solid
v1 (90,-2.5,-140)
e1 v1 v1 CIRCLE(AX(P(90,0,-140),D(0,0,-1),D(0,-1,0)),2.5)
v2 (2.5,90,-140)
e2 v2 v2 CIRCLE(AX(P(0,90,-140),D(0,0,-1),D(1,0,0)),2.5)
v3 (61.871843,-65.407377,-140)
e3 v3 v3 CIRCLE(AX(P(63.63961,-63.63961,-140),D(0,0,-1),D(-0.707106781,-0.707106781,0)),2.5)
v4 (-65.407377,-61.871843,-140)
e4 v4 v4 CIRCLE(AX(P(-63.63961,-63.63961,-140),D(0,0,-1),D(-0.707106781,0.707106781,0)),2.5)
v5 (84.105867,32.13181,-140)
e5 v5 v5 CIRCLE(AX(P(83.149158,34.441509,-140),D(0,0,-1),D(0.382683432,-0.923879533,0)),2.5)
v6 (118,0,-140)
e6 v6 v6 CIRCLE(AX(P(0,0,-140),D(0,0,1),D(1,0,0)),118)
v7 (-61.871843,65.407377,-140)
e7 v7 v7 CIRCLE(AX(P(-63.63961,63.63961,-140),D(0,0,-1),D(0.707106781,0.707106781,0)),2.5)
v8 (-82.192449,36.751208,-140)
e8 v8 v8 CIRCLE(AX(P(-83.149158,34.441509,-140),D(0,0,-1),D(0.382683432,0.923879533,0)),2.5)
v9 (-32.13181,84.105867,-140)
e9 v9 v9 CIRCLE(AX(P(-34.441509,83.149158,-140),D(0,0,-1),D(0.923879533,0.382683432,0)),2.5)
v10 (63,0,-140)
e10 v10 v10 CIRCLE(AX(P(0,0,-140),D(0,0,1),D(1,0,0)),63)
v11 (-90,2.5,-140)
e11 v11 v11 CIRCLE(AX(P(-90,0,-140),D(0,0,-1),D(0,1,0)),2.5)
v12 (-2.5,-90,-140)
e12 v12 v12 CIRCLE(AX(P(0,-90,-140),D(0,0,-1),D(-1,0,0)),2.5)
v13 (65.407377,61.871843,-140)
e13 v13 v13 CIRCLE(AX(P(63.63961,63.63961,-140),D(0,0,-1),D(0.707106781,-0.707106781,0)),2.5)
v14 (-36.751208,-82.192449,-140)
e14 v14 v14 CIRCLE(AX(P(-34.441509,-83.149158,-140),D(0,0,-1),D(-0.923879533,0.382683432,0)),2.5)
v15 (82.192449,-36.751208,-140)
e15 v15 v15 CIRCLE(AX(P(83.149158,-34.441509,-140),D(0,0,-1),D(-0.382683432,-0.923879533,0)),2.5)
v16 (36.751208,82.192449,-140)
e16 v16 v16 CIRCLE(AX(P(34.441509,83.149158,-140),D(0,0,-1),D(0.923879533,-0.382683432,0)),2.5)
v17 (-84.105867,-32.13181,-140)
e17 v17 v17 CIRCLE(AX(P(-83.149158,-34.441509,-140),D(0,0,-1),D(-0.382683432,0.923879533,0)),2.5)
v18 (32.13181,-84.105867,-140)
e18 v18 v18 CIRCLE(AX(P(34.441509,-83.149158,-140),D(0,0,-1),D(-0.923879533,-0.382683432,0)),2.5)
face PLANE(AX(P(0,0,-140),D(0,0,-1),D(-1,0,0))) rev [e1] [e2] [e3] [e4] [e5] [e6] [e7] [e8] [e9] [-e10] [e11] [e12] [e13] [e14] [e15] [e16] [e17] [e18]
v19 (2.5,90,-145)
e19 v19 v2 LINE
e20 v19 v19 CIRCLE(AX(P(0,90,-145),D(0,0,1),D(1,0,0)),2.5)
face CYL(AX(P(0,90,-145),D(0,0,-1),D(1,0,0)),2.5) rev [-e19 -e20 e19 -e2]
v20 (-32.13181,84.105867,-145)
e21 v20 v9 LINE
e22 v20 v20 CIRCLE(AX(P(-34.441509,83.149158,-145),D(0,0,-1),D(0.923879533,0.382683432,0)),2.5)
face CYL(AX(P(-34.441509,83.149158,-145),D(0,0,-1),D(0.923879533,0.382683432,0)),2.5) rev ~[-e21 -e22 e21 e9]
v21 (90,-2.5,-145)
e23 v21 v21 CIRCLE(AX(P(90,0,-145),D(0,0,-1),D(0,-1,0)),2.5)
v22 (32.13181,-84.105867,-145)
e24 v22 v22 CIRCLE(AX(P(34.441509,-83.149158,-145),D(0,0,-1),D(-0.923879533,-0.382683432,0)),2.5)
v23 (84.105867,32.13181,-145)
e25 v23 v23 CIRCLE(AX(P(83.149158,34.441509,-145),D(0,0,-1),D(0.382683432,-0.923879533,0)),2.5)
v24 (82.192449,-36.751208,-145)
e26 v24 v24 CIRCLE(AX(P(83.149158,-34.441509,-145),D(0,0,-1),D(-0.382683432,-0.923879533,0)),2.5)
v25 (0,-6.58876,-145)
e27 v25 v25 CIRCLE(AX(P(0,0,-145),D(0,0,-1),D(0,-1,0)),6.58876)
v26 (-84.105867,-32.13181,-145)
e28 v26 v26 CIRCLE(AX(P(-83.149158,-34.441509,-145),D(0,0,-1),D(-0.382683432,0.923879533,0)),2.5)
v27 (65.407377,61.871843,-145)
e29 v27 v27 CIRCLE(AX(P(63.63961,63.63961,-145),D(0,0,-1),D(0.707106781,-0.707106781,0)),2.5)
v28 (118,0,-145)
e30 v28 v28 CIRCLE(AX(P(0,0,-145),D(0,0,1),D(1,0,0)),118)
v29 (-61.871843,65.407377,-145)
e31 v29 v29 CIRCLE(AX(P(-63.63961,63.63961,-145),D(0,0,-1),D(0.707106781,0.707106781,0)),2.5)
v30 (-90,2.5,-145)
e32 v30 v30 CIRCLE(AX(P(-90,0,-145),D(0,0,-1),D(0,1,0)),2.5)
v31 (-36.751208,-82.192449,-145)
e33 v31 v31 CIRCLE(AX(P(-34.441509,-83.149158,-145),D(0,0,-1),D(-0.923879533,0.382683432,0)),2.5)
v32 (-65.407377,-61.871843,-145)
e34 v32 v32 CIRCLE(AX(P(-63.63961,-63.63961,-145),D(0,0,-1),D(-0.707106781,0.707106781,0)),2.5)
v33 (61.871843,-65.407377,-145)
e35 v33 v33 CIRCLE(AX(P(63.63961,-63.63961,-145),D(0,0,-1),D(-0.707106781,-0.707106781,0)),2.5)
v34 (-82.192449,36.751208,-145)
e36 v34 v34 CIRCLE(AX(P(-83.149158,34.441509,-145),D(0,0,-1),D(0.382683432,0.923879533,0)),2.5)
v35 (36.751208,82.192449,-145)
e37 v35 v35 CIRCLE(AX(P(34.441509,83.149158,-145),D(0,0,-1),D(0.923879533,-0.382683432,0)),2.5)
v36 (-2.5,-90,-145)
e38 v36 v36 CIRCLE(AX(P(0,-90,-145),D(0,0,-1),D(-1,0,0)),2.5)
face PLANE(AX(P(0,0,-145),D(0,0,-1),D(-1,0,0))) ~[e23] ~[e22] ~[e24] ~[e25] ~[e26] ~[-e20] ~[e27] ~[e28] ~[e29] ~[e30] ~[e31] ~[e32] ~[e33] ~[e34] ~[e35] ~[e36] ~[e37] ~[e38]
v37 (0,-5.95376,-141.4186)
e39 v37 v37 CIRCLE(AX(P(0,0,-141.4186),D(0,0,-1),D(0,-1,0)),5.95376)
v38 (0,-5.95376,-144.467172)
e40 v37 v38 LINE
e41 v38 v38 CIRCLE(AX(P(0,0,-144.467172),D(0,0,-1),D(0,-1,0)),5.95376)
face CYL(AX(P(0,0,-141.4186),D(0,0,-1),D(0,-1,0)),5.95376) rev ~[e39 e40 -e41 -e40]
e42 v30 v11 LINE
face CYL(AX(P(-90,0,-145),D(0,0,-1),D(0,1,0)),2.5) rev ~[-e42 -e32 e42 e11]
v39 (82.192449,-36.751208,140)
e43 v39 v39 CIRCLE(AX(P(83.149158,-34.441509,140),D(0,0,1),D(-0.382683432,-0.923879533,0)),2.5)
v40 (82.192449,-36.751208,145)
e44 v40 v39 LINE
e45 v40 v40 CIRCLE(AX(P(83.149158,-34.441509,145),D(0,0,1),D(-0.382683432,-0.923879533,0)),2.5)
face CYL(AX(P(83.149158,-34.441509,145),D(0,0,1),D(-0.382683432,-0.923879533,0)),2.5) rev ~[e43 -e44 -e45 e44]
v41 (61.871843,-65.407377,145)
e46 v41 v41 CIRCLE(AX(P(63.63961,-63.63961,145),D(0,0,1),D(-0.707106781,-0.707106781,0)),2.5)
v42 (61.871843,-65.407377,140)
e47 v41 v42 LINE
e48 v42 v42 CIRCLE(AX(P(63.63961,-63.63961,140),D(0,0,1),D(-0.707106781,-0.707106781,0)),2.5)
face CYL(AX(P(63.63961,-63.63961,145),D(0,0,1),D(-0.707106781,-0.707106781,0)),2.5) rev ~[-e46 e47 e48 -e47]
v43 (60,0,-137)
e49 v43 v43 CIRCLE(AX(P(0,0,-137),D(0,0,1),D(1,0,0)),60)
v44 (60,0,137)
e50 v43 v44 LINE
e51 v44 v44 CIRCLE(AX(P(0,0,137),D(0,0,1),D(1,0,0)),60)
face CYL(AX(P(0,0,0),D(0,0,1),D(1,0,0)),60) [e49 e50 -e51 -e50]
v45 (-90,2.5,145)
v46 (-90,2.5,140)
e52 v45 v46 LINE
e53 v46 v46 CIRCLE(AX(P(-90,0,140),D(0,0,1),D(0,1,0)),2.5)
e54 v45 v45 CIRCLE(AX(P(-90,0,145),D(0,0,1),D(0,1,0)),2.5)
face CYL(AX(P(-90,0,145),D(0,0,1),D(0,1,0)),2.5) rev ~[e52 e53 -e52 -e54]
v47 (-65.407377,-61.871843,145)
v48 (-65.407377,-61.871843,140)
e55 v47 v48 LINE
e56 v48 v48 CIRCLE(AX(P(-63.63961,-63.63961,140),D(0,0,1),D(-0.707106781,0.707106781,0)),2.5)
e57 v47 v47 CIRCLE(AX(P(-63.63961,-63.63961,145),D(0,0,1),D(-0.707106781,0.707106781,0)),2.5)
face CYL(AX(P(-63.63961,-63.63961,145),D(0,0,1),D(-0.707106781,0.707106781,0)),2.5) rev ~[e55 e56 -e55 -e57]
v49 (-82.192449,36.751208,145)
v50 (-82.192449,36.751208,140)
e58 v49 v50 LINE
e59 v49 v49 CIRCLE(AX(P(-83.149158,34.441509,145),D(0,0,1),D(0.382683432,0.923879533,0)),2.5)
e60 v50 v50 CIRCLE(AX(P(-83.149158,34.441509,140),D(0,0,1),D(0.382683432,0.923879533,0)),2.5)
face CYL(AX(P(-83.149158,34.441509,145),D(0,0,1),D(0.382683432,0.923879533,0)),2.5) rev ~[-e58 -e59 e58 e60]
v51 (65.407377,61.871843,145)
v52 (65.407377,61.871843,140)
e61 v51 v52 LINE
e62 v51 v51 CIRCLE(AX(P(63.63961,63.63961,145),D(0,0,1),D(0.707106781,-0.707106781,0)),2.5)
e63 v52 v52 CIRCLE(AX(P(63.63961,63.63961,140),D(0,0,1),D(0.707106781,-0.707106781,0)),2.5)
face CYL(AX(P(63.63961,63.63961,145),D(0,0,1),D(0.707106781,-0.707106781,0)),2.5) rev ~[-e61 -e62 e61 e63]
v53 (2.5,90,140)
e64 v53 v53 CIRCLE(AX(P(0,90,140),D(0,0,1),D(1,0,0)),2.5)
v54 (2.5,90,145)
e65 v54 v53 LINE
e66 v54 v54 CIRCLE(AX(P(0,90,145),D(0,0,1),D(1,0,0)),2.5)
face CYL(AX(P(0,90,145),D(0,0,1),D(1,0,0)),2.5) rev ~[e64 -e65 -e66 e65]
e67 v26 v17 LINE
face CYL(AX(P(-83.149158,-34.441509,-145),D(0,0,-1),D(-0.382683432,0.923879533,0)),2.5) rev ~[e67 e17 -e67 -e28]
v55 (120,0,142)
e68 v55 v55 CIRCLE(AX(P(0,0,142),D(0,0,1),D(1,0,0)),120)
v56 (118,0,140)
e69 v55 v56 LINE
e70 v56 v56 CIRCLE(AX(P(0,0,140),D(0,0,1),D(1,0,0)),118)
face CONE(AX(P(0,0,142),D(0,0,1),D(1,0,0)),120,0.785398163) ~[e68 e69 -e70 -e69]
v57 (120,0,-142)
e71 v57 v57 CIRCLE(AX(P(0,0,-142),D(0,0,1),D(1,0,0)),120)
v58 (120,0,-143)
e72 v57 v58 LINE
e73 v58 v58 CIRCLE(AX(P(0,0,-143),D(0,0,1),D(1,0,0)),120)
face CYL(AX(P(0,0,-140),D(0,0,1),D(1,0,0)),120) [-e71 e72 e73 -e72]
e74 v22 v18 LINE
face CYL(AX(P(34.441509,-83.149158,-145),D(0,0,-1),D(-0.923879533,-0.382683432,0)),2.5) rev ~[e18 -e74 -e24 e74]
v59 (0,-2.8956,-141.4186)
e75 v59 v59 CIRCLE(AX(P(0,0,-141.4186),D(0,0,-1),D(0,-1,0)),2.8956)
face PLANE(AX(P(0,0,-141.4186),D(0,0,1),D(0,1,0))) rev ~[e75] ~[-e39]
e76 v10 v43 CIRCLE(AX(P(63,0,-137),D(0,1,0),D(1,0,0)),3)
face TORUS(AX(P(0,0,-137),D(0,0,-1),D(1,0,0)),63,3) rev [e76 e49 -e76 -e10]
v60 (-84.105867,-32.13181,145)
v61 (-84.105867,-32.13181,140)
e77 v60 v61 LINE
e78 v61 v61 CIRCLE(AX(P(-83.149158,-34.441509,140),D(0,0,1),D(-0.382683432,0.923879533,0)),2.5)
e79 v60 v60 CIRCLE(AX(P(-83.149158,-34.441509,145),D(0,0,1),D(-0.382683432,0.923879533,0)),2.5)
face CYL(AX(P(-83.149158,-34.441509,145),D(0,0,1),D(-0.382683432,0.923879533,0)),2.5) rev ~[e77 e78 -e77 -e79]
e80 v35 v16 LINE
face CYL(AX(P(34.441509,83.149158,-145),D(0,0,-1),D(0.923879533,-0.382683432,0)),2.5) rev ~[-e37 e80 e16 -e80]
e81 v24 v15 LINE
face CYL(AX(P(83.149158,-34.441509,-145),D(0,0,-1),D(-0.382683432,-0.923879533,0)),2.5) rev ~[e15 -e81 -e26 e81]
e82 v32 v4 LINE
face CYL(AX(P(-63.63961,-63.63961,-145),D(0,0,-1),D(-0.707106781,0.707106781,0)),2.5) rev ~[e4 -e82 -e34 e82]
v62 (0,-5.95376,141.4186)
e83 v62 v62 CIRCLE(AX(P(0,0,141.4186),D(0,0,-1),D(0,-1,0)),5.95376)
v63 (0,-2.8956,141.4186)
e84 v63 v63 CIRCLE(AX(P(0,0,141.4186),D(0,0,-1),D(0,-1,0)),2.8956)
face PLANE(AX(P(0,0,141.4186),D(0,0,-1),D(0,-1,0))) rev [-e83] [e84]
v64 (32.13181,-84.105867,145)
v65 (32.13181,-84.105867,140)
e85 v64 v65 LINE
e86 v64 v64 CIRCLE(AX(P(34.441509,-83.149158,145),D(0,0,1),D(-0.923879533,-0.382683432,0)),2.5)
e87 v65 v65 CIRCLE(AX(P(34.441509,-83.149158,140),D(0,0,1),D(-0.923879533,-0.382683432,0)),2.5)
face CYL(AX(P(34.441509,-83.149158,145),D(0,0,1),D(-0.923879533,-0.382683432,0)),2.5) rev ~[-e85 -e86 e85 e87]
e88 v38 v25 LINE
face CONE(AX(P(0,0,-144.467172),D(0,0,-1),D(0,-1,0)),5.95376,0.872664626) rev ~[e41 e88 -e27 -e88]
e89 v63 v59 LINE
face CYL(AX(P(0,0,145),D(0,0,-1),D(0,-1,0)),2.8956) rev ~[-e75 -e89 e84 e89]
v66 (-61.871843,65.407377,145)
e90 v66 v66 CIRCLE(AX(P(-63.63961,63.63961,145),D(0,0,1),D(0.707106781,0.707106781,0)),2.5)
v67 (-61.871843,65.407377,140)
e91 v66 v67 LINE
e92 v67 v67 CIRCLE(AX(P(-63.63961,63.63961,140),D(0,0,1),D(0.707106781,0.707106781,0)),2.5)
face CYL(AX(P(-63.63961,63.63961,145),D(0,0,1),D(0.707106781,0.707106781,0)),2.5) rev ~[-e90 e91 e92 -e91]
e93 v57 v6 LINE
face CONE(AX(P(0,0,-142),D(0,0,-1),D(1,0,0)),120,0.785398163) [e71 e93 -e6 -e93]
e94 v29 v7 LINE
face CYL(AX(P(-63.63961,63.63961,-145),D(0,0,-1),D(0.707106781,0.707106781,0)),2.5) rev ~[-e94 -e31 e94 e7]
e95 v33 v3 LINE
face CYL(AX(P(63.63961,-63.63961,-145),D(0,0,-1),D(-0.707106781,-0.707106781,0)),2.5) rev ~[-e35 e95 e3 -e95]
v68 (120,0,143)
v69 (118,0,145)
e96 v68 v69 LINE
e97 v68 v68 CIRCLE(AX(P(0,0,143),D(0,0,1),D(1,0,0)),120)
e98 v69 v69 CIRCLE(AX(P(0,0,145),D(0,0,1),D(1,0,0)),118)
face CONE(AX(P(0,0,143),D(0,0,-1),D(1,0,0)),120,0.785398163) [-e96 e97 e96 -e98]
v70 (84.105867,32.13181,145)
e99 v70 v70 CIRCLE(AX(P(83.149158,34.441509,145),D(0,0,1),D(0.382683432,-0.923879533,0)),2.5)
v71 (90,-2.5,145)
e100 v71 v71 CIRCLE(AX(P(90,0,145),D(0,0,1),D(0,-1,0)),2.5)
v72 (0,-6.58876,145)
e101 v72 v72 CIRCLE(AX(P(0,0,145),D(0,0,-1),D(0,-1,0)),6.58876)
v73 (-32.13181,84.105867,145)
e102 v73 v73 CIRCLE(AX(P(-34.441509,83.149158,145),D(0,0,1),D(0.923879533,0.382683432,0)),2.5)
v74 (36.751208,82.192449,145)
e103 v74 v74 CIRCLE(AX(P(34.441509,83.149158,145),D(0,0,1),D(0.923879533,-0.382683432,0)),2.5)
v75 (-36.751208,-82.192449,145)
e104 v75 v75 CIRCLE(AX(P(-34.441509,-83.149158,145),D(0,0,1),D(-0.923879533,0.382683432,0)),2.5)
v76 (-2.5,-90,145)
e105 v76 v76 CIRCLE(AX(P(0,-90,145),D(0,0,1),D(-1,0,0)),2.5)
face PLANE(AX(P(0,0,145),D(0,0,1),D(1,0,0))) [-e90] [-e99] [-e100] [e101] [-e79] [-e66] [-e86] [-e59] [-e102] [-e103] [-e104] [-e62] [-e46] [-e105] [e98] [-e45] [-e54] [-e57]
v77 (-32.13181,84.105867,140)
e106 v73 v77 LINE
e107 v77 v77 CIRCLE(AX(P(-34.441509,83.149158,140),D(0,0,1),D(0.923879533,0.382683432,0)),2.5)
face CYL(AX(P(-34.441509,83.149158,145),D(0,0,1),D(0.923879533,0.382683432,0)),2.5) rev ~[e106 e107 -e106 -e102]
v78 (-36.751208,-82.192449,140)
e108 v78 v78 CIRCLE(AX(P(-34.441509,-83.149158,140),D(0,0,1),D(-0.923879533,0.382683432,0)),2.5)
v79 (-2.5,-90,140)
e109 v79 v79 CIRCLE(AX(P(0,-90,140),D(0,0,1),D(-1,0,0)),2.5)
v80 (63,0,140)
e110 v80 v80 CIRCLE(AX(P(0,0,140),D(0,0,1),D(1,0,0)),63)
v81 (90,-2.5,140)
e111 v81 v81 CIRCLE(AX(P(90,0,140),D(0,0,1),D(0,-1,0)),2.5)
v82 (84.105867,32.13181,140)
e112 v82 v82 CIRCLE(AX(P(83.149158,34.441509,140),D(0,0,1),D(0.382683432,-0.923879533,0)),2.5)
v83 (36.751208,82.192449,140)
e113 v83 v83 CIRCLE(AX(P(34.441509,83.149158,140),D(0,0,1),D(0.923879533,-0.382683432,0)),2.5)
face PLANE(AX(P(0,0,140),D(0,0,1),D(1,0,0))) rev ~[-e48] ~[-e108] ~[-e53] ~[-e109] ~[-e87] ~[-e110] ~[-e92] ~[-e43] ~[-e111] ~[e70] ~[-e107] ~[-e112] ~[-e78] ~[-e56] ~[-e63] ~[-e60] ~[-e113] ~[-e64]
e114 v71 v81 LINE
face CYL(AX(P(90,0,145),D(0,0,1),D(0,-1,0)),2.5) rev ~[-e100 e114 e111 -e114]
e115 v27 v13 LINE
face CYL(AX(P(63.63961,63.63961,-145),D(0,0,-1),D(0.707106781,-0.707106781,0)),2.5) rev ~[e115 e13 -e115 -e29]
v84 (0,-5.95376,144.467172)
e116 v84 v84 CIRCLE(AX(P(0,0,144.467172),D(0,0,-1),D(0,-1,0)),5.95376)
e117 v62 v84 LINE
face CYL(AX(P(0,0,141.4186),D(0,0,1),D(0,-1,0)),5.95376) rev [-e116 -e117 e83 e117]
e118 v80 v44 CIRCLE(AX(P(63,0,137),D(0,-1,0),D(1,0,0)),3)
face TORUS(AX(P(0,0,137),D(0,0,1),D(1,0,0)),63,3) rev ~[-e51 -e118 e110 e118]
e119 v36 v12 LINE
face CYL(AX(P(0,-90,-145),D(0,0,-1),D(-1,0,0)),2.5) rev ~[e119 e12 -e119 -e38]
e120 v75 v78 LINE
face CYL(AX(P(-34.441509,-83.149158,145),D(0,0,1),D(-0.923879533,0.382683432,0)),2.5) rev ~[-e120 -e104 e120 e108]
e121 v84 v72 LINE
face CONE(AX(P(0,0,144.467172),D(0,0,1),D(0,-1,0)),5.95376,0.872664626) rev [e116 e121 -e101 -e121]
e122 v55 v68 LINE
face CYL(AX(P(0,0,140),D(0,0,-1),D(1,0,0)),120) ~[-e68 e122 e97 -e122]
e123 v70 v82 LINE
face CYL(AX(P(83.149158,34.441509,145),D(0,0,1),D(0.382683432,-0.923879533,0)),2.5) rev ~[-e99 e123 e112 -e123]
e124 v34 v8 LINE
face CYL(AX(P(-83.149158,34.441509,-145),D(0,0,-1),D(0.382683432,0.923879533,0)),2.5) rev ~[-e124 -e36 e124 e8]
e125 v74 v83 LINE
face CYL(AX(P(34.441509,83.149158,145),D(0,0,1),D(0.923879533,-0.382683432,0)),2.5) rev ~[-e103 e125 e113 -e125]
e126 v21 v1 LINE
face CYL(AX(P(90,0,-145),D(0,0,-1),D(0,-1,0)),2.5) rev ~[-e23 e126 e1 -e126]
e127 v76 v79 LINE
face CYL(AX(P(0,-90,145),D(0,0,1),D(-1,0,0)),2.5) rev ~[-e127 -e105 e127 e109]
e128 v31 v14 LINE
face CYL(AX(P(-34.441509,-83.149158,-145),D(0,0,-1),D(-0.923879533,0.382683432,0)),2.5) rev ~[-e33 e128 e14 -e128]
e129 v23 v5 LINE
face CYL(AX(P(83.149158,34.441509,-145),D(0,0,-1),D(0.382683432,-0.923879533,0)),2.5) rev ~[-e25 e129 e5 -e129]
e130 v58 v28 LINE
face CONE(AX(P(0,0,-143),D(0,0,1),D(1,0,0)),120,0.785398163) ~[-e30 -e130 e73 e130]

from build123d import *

# Parameters (mm, degrees)
SKETCH1_R                = 60
BOSS_EXTRUDE1_DEPTH      = 140
SKETCH2_R                = 120
BOSS_EXTRUDE2_DEPTH      = 5
CHAMFER1_SIZE            = 2
SKETCH3_R                = 2.5
CUT_EXTRUDE1_DEPTH       = 332.700165812
CIRPATTERN1_COUNT        = 16
FILLET1_R                = 3
MIRROR1_COPY_1_SKETCH_R  = 2.5
MIRROR1_COPY_1_DEPTH     = 332.700165812
MIRROR1_COPY_2_SKETCH_R  = 2.5
MIRROR1_COPY_2_DEPTH     = 332.700165812
MIRROR1_COPY_3_SKETCH_R  = 2.5
MIRROR1_COPY_3_DEPTH     = 332.700165812
MIRROR1_COPY_4_SKETCH_R  = 2.5
MIRROR1_COPY_4_DEPTH     = 332.700165812
MIRROR1_COPY_5_SKETCH_R  = 2.5
MIRROR1_COPY_5_DEPTH     = 332.700165812
MIRROR1_COPY_6_SKETCH_R  = 2.5
MIRROR1_COPY_6_DEPTH     = 332.700165812
MIRROR1_COPY_7_SKETCH_R  = 2.5
MIRROR1_COPY_7_DEPTH     = 332.700165812
MIRROR1_COPY_8_SKETCH_R  = 2.5
MIRROR1_COPY_8_DEPTH     = 332.700165812
MIRROR1_COPY_9_SKETCH_R  = 2.5
MIRROR1_COPY_9_DEPTH     = 332.700165812
MIRROR1_COPY_10_SKETCH_R = 2.5
MIRROR1_COPY_10_DEPTH    = 332.700165812
MIRROR1_COPY_11_SKETCH_R = 2.5
MIRROR1_COPY_11_DEPTH    = 332.700165812
MIRROR1_COPY_12_SKETCH_R = 2.5
MIRROR1_COPY_12_DEPTH    = 332.700165812
MIRROR1_COPY_13_SKETCH_R = 2.5
MIRROR1_COPY_13_DEPTH    = 332.700165812
MIRROR1_COPY_14_SKETCH_R = 2.5
MIRROR1_COPY_14_DEPTH    = 332.700165812
MIRROR1_COPY_15_SKETCH_R = 2.5
MIRROR1_COPY_15_DEPTH    = 332.700165812
CHAMFER1_OF_MIRROR1_SIZE = 2
FILLET1_OF_MIRROR1_R     = 3


with BuildPart() as part:
    # Sketch1 → Boss-Extrude1 (new, symmetric)
    with BuildSketch(Plane.XY):
        Circle(SKETCH1_R)
    extrude(amount=BOSS_EXTRUDE1_DEPTH, both=True)

    # Sketch2 → Boss-Extrude2 (add)
    with BuildSketch(Plane.XY.offset(140)):
        Circle(SKETCH2_R)
    boss_extrude2 = extrude(amount=BOSS_EXTRUDE2_DEPTH)

    # Chamfer1
    chamfer1_edges = [part.edges().sort_by_distance(p)[0] for p in [
        (-120, 0, 140),
        (-120, 0, 145),
    ]]
    chamfer(chamfer1_edges, length=CHAMFER1_SIZE)

    # Sketch3 → Cut-Extrude1 (cut, through all)
    with BuildSketch(Plane.XY.offset(145)):
        with Locations((0, 90)):
            Circle(SKETCH3_R)
    cut_extrude1 = extrude(amount=-CUT_EXTRUDE1_DEPTH, mode=Mode.SUBTRACT)

    # CirPattern1: Cut-Extrude1 ×16 about axis
    cirpattern1_axis = Axis((0, 0, 140), (0, 0, 1))
    for i in range(1, CIRPATTERN1_COUNT):
        add(cut_extrude1.rotate(cirpattern1_axis, i * 360 / CIRPATTERN1_COUNT), mode=Mode.SUBTRACT)

    # Fillet1
    fillet1_edges = [part.edges().sort_by_distance(p)[0] for p in [
        (-60, 0, 140),
    ]]
    fillet(fillet1_edges, radius=FILLET1_R)

    # Sketch7 → CBORE for #12 Binding Head Machine Screw1 (revolve, cut)
    with BuildSketch(Plane(origin=(0, 0, 145), x_dir=(0, -1, 0), z_dir=(1, 0, 0))):
        Polygon((0, 0), (0, 290), (2.8956, 290), (2.8956, 3.5814), (5.95376, 3.5814), (5.95376, 0.532828266), (6.58876, 0), align=None)
    cbore_for_12_binding_head_machine_screw = revolve(axis=Axis((0, 0, 151.35), (0, 0, -1)), mode=Mode.SUBTRACT)

    # Mirror1: Boss-Extrude2, Cut-Extrude1, CBORE for #12 Binding Head Machine Screw1 across plane
    add(boss_extrude2.mirror(Plane.XY))
    add(cut_extrude1.mirror(Plane.XY), mode=Mode.SUBTRACT)
    add(cbore_for_12_binding_head_machine_screw.mirror(Plane.XY), mode=Mode.SUBTRACT)

    # Mirror1 copy 1 sketch → Mirror1 copy 1 (cut, through all)
    with BuildSketch(Plane(origin=(0, 0, -145), x_dir=(0.9238795325112867, 0.3826834323650898, 0), z_dir=(0, 0, -1))):
        with Locations((0, -90)):
            Circle(MIRROR1_COPY_1_SKETCH_R)
    extrude(amount=-MIRROR1_COPY_1_DEPTH, mode=Mode.SUBTRACT)

    # Mirror1 copy 2 sketch → Mirror1 copy 2 (cut, through all)
    with BuildSketch(Plane(origin=(0, 0, -145), x_dir=(0.7071067811865476, 0.7071067811865475, 0), z_dir=(0, 0, -1))):
        with Locations((0, -90)):
            Circle(MIRROR1_COPY_2_SKETCH_R)
    extrude(amount=-MIRROR1_COPY_2_DEPTH, mode=Mode.SUBTRACT)

    # Mirror1 copy 3 sketch → Mirror1 copy 3 (cut, through all)
    with BuildSketch(Plane(origin=(0, 0, -145), x_dir=(0.38268343236508984, 0.9238795325112867, 0), z_dir=(0, 0, -1))):
        with Locations((0, -90)):
            Circle(MIRROR1_COPY_3_SKETCH_R)
    extrude(amount=-MIRROR1_COPY_3_DEPTH, mode=Mode.SUBTRACT)

    # Mirror1 copy 4 sketch → Mirror1 copy 4 (cut, through all)
    with BuildSketch(Plane.YX.offset(145)):
        with Locations((0, -90)):
            Circle(MIRROR1_COPY_4_SKETCH_R)
    extrude(amount=-MIRROR1_COPY_4_DEPTH, mode=Mode.SUBTRACT)

    # Mirror1 copy 5 sketch → Mirror1 copy 5 (cut, through all)
    with BuildSketch(Plane(origin=(0, 0, -145), x_dir=(-0.3826834323650897, 0.9238795325112867, 0), z_dir=(0, 0, -1))):
        with Locations((0, -90)):
            Circle(MIRROR1_COPY_5_SKETCH_R)
    extrude(amount=-MIRROR1_COPY_5_DEPTH, mode=Mode.SUBTRACT)

    # Mirror1 copy 6 sketch → Mirror1 copy 6 (cut, through all)
    with BuildSketch(Plane(origin=(0, 0, -145), x_dir=(-0.7071067811865475, 0.7071067811865476, 0), z_dir=(0, 0, -1))):
        with Locations((0, -90)):
            Circle(MIRROR1_COPY_6_SKETCH_R)
    extrude(amount=-MIRROR1_COPY_6_DEPTH, mode=Mode.SUBTRACT)

    # Mirror1 copy 7 sketch → Mirror1 copy 7 (cut, through all)
    with BuildSketch(Plane(origin=(0, 0, -145), x_dir=(-0.9238795325112867, 0.3826834323650899, 0), z_dir=(0, 0, -1))):
        with Locations((0, -90)):
            Circle(MIRROR1_COPY_7_SKETCH_R)
    extrude(amount=-MIRROR1_COPY_7_DEPTH, mode=Mode.SUBTRACT)

    # Mirror1 copy 8 sketch → Mirror1 copy 8 (cut, through all)
    with BuildSketch(Plane(origin=(0, 0, -145), x_dir=(-1, 0, 0), z_dir=(0, 0, -1))):
        with Locations((0, -90)):
            Circle(MIRROR1_COPY_8_SKETCH_R)
    extrude(amount=-MIRROR1_COPY_8_DEPTH, mode=Mode.SUBTRACT)

    # Mirror1 copy 9 sketch → Mirror1 copy 9 (cut, through all)
    with BuildSketch(Plane(origin=(0, 0, -145), x_dir=(-0.9238795325112868, -0.38268343236508967, 0), z_dir=(0, 0, -1))):
        with Locations((0, -90)):
            Circle(MIRROR1_COPY_9_SKETCH_R)
    extrude(amount=-MIRROR1_COPY_9_DEPTH, mode=Mode.SUBTRACT)

    # Mirror1 copy 10 sketch → Mirror1 copy 10 (cut, through all)
    with BuildSketch(Plane(origin=(0, 0, -145), x_dir=(-0.7071067811865477, -0.7071067811865475, 0), z_dir=(0, 0, -1))):
        with Locations((0, -90)):
            Circle(MIRROR1_COPY_10_SKETCH_R)
    extrude(amount=-MIRROR1_COPY_10_DEPTH, mode=Mode.SUBTRACT)

    # Mirror1 copy 11 sketch → Mirror1 copy 11 (cut, through all)
    with BuildSketch(Plane(origin=(0, 0, -145), x_dir=(-0.3826834323650895, -0.9238795325112868, 0), z_dir=(0, 0, -1))):
        with Locations((0, -90)):
            Circle(MIRROR1_COPY_11_SKETCH_R)
    extrude(amount=-MIRROR1_COPY_11_DEPTH, mode=Mode.SUBTRACT)

    # Mirror1 copy 12 sketch → Mirror1 copy 12 (cut, through all)
    with BuildSketch(Plane(origin=(0, 0, -145), x_dir=(0, -1, 0), z_dir=(0, 0, -1))):
        with Locations((0, -90)):
            Circle(MIRROR1_COPY_12_SKETCH_R)
    extrude(amount=-MIRROR1_COPY_12_DEPTH, mode=Mode.SUBTRACT)

    # Mirror1 copy 13 sketch → Mirror1 copy 13 (cut, through all)
    with BuildSketch(Plane(origin=(0, 0, -145), x_dir=(0.38268343236509, -0.9238795325112866, 0), z_dir=(0, 0, -1))):
        with Locations((0, -90)):
            Circle(MIRROR1_COPY_13_SKETCH_R)
    extrude(amount=-MIRROR1_COPY_13_DEPTH, mode=Mode.SUBTRACT)

    # Mirror1 copy 14 sketch → Mirror1 copy 14 (cut, through all)
    with BuildSketch(Plane(origin=(0, 0, -145), x_dir=(0.7071067811865474, -0.7071067811865477, 0), z_dir=(0, 0, -1))):
        with Locations((0, -90)):
            Circle(MIRROR1_COPY_14_SKETCH_R)
    extrude(amount=-MIRROR1_COPY_14_DEPTH, mode=Mode.SUBTRACT)

    # Mirror1 copy 15 sketch → Mirror1 copy 15 (cut, through all)
    with BuildSketch(Plane(origin=(0, 0, -145), x_dir=(0.9238795325112868, -0.38268343236508956, 0), z_dir=(0, 0, -1))):
        with Locations((0, -90)):
            Circle(MIRROR1_COPY_15_SKETCH_R)
    extrude(amount=-MIRROR1_COPY_15_DEPTH, mode=Mode.SUBTRACT)

    # Chamfer1 of Mirror1
    chamfer1_of_mirror1_edges = [part.edges().sort_by_distance(p)[0] for p in [
        (-120, 0, -140),
        (-120, 0, -145),
    ]]
    chamfer(chamfer1_of_mirror1_edges, length=CHAMFER1_OF_MIRROR1_SIZE)

    # Fillet1 of Mirror1
    fillet1_of_mirror1_edges = [part.edges().sort_by_distance(p)[0] for p in [
        (-60, 0, -140),
    ]]
    fillet(fillet1_of_mirror1_edges, radius=FILLET1_OF_MIRROR1_R)


solid = part.part
